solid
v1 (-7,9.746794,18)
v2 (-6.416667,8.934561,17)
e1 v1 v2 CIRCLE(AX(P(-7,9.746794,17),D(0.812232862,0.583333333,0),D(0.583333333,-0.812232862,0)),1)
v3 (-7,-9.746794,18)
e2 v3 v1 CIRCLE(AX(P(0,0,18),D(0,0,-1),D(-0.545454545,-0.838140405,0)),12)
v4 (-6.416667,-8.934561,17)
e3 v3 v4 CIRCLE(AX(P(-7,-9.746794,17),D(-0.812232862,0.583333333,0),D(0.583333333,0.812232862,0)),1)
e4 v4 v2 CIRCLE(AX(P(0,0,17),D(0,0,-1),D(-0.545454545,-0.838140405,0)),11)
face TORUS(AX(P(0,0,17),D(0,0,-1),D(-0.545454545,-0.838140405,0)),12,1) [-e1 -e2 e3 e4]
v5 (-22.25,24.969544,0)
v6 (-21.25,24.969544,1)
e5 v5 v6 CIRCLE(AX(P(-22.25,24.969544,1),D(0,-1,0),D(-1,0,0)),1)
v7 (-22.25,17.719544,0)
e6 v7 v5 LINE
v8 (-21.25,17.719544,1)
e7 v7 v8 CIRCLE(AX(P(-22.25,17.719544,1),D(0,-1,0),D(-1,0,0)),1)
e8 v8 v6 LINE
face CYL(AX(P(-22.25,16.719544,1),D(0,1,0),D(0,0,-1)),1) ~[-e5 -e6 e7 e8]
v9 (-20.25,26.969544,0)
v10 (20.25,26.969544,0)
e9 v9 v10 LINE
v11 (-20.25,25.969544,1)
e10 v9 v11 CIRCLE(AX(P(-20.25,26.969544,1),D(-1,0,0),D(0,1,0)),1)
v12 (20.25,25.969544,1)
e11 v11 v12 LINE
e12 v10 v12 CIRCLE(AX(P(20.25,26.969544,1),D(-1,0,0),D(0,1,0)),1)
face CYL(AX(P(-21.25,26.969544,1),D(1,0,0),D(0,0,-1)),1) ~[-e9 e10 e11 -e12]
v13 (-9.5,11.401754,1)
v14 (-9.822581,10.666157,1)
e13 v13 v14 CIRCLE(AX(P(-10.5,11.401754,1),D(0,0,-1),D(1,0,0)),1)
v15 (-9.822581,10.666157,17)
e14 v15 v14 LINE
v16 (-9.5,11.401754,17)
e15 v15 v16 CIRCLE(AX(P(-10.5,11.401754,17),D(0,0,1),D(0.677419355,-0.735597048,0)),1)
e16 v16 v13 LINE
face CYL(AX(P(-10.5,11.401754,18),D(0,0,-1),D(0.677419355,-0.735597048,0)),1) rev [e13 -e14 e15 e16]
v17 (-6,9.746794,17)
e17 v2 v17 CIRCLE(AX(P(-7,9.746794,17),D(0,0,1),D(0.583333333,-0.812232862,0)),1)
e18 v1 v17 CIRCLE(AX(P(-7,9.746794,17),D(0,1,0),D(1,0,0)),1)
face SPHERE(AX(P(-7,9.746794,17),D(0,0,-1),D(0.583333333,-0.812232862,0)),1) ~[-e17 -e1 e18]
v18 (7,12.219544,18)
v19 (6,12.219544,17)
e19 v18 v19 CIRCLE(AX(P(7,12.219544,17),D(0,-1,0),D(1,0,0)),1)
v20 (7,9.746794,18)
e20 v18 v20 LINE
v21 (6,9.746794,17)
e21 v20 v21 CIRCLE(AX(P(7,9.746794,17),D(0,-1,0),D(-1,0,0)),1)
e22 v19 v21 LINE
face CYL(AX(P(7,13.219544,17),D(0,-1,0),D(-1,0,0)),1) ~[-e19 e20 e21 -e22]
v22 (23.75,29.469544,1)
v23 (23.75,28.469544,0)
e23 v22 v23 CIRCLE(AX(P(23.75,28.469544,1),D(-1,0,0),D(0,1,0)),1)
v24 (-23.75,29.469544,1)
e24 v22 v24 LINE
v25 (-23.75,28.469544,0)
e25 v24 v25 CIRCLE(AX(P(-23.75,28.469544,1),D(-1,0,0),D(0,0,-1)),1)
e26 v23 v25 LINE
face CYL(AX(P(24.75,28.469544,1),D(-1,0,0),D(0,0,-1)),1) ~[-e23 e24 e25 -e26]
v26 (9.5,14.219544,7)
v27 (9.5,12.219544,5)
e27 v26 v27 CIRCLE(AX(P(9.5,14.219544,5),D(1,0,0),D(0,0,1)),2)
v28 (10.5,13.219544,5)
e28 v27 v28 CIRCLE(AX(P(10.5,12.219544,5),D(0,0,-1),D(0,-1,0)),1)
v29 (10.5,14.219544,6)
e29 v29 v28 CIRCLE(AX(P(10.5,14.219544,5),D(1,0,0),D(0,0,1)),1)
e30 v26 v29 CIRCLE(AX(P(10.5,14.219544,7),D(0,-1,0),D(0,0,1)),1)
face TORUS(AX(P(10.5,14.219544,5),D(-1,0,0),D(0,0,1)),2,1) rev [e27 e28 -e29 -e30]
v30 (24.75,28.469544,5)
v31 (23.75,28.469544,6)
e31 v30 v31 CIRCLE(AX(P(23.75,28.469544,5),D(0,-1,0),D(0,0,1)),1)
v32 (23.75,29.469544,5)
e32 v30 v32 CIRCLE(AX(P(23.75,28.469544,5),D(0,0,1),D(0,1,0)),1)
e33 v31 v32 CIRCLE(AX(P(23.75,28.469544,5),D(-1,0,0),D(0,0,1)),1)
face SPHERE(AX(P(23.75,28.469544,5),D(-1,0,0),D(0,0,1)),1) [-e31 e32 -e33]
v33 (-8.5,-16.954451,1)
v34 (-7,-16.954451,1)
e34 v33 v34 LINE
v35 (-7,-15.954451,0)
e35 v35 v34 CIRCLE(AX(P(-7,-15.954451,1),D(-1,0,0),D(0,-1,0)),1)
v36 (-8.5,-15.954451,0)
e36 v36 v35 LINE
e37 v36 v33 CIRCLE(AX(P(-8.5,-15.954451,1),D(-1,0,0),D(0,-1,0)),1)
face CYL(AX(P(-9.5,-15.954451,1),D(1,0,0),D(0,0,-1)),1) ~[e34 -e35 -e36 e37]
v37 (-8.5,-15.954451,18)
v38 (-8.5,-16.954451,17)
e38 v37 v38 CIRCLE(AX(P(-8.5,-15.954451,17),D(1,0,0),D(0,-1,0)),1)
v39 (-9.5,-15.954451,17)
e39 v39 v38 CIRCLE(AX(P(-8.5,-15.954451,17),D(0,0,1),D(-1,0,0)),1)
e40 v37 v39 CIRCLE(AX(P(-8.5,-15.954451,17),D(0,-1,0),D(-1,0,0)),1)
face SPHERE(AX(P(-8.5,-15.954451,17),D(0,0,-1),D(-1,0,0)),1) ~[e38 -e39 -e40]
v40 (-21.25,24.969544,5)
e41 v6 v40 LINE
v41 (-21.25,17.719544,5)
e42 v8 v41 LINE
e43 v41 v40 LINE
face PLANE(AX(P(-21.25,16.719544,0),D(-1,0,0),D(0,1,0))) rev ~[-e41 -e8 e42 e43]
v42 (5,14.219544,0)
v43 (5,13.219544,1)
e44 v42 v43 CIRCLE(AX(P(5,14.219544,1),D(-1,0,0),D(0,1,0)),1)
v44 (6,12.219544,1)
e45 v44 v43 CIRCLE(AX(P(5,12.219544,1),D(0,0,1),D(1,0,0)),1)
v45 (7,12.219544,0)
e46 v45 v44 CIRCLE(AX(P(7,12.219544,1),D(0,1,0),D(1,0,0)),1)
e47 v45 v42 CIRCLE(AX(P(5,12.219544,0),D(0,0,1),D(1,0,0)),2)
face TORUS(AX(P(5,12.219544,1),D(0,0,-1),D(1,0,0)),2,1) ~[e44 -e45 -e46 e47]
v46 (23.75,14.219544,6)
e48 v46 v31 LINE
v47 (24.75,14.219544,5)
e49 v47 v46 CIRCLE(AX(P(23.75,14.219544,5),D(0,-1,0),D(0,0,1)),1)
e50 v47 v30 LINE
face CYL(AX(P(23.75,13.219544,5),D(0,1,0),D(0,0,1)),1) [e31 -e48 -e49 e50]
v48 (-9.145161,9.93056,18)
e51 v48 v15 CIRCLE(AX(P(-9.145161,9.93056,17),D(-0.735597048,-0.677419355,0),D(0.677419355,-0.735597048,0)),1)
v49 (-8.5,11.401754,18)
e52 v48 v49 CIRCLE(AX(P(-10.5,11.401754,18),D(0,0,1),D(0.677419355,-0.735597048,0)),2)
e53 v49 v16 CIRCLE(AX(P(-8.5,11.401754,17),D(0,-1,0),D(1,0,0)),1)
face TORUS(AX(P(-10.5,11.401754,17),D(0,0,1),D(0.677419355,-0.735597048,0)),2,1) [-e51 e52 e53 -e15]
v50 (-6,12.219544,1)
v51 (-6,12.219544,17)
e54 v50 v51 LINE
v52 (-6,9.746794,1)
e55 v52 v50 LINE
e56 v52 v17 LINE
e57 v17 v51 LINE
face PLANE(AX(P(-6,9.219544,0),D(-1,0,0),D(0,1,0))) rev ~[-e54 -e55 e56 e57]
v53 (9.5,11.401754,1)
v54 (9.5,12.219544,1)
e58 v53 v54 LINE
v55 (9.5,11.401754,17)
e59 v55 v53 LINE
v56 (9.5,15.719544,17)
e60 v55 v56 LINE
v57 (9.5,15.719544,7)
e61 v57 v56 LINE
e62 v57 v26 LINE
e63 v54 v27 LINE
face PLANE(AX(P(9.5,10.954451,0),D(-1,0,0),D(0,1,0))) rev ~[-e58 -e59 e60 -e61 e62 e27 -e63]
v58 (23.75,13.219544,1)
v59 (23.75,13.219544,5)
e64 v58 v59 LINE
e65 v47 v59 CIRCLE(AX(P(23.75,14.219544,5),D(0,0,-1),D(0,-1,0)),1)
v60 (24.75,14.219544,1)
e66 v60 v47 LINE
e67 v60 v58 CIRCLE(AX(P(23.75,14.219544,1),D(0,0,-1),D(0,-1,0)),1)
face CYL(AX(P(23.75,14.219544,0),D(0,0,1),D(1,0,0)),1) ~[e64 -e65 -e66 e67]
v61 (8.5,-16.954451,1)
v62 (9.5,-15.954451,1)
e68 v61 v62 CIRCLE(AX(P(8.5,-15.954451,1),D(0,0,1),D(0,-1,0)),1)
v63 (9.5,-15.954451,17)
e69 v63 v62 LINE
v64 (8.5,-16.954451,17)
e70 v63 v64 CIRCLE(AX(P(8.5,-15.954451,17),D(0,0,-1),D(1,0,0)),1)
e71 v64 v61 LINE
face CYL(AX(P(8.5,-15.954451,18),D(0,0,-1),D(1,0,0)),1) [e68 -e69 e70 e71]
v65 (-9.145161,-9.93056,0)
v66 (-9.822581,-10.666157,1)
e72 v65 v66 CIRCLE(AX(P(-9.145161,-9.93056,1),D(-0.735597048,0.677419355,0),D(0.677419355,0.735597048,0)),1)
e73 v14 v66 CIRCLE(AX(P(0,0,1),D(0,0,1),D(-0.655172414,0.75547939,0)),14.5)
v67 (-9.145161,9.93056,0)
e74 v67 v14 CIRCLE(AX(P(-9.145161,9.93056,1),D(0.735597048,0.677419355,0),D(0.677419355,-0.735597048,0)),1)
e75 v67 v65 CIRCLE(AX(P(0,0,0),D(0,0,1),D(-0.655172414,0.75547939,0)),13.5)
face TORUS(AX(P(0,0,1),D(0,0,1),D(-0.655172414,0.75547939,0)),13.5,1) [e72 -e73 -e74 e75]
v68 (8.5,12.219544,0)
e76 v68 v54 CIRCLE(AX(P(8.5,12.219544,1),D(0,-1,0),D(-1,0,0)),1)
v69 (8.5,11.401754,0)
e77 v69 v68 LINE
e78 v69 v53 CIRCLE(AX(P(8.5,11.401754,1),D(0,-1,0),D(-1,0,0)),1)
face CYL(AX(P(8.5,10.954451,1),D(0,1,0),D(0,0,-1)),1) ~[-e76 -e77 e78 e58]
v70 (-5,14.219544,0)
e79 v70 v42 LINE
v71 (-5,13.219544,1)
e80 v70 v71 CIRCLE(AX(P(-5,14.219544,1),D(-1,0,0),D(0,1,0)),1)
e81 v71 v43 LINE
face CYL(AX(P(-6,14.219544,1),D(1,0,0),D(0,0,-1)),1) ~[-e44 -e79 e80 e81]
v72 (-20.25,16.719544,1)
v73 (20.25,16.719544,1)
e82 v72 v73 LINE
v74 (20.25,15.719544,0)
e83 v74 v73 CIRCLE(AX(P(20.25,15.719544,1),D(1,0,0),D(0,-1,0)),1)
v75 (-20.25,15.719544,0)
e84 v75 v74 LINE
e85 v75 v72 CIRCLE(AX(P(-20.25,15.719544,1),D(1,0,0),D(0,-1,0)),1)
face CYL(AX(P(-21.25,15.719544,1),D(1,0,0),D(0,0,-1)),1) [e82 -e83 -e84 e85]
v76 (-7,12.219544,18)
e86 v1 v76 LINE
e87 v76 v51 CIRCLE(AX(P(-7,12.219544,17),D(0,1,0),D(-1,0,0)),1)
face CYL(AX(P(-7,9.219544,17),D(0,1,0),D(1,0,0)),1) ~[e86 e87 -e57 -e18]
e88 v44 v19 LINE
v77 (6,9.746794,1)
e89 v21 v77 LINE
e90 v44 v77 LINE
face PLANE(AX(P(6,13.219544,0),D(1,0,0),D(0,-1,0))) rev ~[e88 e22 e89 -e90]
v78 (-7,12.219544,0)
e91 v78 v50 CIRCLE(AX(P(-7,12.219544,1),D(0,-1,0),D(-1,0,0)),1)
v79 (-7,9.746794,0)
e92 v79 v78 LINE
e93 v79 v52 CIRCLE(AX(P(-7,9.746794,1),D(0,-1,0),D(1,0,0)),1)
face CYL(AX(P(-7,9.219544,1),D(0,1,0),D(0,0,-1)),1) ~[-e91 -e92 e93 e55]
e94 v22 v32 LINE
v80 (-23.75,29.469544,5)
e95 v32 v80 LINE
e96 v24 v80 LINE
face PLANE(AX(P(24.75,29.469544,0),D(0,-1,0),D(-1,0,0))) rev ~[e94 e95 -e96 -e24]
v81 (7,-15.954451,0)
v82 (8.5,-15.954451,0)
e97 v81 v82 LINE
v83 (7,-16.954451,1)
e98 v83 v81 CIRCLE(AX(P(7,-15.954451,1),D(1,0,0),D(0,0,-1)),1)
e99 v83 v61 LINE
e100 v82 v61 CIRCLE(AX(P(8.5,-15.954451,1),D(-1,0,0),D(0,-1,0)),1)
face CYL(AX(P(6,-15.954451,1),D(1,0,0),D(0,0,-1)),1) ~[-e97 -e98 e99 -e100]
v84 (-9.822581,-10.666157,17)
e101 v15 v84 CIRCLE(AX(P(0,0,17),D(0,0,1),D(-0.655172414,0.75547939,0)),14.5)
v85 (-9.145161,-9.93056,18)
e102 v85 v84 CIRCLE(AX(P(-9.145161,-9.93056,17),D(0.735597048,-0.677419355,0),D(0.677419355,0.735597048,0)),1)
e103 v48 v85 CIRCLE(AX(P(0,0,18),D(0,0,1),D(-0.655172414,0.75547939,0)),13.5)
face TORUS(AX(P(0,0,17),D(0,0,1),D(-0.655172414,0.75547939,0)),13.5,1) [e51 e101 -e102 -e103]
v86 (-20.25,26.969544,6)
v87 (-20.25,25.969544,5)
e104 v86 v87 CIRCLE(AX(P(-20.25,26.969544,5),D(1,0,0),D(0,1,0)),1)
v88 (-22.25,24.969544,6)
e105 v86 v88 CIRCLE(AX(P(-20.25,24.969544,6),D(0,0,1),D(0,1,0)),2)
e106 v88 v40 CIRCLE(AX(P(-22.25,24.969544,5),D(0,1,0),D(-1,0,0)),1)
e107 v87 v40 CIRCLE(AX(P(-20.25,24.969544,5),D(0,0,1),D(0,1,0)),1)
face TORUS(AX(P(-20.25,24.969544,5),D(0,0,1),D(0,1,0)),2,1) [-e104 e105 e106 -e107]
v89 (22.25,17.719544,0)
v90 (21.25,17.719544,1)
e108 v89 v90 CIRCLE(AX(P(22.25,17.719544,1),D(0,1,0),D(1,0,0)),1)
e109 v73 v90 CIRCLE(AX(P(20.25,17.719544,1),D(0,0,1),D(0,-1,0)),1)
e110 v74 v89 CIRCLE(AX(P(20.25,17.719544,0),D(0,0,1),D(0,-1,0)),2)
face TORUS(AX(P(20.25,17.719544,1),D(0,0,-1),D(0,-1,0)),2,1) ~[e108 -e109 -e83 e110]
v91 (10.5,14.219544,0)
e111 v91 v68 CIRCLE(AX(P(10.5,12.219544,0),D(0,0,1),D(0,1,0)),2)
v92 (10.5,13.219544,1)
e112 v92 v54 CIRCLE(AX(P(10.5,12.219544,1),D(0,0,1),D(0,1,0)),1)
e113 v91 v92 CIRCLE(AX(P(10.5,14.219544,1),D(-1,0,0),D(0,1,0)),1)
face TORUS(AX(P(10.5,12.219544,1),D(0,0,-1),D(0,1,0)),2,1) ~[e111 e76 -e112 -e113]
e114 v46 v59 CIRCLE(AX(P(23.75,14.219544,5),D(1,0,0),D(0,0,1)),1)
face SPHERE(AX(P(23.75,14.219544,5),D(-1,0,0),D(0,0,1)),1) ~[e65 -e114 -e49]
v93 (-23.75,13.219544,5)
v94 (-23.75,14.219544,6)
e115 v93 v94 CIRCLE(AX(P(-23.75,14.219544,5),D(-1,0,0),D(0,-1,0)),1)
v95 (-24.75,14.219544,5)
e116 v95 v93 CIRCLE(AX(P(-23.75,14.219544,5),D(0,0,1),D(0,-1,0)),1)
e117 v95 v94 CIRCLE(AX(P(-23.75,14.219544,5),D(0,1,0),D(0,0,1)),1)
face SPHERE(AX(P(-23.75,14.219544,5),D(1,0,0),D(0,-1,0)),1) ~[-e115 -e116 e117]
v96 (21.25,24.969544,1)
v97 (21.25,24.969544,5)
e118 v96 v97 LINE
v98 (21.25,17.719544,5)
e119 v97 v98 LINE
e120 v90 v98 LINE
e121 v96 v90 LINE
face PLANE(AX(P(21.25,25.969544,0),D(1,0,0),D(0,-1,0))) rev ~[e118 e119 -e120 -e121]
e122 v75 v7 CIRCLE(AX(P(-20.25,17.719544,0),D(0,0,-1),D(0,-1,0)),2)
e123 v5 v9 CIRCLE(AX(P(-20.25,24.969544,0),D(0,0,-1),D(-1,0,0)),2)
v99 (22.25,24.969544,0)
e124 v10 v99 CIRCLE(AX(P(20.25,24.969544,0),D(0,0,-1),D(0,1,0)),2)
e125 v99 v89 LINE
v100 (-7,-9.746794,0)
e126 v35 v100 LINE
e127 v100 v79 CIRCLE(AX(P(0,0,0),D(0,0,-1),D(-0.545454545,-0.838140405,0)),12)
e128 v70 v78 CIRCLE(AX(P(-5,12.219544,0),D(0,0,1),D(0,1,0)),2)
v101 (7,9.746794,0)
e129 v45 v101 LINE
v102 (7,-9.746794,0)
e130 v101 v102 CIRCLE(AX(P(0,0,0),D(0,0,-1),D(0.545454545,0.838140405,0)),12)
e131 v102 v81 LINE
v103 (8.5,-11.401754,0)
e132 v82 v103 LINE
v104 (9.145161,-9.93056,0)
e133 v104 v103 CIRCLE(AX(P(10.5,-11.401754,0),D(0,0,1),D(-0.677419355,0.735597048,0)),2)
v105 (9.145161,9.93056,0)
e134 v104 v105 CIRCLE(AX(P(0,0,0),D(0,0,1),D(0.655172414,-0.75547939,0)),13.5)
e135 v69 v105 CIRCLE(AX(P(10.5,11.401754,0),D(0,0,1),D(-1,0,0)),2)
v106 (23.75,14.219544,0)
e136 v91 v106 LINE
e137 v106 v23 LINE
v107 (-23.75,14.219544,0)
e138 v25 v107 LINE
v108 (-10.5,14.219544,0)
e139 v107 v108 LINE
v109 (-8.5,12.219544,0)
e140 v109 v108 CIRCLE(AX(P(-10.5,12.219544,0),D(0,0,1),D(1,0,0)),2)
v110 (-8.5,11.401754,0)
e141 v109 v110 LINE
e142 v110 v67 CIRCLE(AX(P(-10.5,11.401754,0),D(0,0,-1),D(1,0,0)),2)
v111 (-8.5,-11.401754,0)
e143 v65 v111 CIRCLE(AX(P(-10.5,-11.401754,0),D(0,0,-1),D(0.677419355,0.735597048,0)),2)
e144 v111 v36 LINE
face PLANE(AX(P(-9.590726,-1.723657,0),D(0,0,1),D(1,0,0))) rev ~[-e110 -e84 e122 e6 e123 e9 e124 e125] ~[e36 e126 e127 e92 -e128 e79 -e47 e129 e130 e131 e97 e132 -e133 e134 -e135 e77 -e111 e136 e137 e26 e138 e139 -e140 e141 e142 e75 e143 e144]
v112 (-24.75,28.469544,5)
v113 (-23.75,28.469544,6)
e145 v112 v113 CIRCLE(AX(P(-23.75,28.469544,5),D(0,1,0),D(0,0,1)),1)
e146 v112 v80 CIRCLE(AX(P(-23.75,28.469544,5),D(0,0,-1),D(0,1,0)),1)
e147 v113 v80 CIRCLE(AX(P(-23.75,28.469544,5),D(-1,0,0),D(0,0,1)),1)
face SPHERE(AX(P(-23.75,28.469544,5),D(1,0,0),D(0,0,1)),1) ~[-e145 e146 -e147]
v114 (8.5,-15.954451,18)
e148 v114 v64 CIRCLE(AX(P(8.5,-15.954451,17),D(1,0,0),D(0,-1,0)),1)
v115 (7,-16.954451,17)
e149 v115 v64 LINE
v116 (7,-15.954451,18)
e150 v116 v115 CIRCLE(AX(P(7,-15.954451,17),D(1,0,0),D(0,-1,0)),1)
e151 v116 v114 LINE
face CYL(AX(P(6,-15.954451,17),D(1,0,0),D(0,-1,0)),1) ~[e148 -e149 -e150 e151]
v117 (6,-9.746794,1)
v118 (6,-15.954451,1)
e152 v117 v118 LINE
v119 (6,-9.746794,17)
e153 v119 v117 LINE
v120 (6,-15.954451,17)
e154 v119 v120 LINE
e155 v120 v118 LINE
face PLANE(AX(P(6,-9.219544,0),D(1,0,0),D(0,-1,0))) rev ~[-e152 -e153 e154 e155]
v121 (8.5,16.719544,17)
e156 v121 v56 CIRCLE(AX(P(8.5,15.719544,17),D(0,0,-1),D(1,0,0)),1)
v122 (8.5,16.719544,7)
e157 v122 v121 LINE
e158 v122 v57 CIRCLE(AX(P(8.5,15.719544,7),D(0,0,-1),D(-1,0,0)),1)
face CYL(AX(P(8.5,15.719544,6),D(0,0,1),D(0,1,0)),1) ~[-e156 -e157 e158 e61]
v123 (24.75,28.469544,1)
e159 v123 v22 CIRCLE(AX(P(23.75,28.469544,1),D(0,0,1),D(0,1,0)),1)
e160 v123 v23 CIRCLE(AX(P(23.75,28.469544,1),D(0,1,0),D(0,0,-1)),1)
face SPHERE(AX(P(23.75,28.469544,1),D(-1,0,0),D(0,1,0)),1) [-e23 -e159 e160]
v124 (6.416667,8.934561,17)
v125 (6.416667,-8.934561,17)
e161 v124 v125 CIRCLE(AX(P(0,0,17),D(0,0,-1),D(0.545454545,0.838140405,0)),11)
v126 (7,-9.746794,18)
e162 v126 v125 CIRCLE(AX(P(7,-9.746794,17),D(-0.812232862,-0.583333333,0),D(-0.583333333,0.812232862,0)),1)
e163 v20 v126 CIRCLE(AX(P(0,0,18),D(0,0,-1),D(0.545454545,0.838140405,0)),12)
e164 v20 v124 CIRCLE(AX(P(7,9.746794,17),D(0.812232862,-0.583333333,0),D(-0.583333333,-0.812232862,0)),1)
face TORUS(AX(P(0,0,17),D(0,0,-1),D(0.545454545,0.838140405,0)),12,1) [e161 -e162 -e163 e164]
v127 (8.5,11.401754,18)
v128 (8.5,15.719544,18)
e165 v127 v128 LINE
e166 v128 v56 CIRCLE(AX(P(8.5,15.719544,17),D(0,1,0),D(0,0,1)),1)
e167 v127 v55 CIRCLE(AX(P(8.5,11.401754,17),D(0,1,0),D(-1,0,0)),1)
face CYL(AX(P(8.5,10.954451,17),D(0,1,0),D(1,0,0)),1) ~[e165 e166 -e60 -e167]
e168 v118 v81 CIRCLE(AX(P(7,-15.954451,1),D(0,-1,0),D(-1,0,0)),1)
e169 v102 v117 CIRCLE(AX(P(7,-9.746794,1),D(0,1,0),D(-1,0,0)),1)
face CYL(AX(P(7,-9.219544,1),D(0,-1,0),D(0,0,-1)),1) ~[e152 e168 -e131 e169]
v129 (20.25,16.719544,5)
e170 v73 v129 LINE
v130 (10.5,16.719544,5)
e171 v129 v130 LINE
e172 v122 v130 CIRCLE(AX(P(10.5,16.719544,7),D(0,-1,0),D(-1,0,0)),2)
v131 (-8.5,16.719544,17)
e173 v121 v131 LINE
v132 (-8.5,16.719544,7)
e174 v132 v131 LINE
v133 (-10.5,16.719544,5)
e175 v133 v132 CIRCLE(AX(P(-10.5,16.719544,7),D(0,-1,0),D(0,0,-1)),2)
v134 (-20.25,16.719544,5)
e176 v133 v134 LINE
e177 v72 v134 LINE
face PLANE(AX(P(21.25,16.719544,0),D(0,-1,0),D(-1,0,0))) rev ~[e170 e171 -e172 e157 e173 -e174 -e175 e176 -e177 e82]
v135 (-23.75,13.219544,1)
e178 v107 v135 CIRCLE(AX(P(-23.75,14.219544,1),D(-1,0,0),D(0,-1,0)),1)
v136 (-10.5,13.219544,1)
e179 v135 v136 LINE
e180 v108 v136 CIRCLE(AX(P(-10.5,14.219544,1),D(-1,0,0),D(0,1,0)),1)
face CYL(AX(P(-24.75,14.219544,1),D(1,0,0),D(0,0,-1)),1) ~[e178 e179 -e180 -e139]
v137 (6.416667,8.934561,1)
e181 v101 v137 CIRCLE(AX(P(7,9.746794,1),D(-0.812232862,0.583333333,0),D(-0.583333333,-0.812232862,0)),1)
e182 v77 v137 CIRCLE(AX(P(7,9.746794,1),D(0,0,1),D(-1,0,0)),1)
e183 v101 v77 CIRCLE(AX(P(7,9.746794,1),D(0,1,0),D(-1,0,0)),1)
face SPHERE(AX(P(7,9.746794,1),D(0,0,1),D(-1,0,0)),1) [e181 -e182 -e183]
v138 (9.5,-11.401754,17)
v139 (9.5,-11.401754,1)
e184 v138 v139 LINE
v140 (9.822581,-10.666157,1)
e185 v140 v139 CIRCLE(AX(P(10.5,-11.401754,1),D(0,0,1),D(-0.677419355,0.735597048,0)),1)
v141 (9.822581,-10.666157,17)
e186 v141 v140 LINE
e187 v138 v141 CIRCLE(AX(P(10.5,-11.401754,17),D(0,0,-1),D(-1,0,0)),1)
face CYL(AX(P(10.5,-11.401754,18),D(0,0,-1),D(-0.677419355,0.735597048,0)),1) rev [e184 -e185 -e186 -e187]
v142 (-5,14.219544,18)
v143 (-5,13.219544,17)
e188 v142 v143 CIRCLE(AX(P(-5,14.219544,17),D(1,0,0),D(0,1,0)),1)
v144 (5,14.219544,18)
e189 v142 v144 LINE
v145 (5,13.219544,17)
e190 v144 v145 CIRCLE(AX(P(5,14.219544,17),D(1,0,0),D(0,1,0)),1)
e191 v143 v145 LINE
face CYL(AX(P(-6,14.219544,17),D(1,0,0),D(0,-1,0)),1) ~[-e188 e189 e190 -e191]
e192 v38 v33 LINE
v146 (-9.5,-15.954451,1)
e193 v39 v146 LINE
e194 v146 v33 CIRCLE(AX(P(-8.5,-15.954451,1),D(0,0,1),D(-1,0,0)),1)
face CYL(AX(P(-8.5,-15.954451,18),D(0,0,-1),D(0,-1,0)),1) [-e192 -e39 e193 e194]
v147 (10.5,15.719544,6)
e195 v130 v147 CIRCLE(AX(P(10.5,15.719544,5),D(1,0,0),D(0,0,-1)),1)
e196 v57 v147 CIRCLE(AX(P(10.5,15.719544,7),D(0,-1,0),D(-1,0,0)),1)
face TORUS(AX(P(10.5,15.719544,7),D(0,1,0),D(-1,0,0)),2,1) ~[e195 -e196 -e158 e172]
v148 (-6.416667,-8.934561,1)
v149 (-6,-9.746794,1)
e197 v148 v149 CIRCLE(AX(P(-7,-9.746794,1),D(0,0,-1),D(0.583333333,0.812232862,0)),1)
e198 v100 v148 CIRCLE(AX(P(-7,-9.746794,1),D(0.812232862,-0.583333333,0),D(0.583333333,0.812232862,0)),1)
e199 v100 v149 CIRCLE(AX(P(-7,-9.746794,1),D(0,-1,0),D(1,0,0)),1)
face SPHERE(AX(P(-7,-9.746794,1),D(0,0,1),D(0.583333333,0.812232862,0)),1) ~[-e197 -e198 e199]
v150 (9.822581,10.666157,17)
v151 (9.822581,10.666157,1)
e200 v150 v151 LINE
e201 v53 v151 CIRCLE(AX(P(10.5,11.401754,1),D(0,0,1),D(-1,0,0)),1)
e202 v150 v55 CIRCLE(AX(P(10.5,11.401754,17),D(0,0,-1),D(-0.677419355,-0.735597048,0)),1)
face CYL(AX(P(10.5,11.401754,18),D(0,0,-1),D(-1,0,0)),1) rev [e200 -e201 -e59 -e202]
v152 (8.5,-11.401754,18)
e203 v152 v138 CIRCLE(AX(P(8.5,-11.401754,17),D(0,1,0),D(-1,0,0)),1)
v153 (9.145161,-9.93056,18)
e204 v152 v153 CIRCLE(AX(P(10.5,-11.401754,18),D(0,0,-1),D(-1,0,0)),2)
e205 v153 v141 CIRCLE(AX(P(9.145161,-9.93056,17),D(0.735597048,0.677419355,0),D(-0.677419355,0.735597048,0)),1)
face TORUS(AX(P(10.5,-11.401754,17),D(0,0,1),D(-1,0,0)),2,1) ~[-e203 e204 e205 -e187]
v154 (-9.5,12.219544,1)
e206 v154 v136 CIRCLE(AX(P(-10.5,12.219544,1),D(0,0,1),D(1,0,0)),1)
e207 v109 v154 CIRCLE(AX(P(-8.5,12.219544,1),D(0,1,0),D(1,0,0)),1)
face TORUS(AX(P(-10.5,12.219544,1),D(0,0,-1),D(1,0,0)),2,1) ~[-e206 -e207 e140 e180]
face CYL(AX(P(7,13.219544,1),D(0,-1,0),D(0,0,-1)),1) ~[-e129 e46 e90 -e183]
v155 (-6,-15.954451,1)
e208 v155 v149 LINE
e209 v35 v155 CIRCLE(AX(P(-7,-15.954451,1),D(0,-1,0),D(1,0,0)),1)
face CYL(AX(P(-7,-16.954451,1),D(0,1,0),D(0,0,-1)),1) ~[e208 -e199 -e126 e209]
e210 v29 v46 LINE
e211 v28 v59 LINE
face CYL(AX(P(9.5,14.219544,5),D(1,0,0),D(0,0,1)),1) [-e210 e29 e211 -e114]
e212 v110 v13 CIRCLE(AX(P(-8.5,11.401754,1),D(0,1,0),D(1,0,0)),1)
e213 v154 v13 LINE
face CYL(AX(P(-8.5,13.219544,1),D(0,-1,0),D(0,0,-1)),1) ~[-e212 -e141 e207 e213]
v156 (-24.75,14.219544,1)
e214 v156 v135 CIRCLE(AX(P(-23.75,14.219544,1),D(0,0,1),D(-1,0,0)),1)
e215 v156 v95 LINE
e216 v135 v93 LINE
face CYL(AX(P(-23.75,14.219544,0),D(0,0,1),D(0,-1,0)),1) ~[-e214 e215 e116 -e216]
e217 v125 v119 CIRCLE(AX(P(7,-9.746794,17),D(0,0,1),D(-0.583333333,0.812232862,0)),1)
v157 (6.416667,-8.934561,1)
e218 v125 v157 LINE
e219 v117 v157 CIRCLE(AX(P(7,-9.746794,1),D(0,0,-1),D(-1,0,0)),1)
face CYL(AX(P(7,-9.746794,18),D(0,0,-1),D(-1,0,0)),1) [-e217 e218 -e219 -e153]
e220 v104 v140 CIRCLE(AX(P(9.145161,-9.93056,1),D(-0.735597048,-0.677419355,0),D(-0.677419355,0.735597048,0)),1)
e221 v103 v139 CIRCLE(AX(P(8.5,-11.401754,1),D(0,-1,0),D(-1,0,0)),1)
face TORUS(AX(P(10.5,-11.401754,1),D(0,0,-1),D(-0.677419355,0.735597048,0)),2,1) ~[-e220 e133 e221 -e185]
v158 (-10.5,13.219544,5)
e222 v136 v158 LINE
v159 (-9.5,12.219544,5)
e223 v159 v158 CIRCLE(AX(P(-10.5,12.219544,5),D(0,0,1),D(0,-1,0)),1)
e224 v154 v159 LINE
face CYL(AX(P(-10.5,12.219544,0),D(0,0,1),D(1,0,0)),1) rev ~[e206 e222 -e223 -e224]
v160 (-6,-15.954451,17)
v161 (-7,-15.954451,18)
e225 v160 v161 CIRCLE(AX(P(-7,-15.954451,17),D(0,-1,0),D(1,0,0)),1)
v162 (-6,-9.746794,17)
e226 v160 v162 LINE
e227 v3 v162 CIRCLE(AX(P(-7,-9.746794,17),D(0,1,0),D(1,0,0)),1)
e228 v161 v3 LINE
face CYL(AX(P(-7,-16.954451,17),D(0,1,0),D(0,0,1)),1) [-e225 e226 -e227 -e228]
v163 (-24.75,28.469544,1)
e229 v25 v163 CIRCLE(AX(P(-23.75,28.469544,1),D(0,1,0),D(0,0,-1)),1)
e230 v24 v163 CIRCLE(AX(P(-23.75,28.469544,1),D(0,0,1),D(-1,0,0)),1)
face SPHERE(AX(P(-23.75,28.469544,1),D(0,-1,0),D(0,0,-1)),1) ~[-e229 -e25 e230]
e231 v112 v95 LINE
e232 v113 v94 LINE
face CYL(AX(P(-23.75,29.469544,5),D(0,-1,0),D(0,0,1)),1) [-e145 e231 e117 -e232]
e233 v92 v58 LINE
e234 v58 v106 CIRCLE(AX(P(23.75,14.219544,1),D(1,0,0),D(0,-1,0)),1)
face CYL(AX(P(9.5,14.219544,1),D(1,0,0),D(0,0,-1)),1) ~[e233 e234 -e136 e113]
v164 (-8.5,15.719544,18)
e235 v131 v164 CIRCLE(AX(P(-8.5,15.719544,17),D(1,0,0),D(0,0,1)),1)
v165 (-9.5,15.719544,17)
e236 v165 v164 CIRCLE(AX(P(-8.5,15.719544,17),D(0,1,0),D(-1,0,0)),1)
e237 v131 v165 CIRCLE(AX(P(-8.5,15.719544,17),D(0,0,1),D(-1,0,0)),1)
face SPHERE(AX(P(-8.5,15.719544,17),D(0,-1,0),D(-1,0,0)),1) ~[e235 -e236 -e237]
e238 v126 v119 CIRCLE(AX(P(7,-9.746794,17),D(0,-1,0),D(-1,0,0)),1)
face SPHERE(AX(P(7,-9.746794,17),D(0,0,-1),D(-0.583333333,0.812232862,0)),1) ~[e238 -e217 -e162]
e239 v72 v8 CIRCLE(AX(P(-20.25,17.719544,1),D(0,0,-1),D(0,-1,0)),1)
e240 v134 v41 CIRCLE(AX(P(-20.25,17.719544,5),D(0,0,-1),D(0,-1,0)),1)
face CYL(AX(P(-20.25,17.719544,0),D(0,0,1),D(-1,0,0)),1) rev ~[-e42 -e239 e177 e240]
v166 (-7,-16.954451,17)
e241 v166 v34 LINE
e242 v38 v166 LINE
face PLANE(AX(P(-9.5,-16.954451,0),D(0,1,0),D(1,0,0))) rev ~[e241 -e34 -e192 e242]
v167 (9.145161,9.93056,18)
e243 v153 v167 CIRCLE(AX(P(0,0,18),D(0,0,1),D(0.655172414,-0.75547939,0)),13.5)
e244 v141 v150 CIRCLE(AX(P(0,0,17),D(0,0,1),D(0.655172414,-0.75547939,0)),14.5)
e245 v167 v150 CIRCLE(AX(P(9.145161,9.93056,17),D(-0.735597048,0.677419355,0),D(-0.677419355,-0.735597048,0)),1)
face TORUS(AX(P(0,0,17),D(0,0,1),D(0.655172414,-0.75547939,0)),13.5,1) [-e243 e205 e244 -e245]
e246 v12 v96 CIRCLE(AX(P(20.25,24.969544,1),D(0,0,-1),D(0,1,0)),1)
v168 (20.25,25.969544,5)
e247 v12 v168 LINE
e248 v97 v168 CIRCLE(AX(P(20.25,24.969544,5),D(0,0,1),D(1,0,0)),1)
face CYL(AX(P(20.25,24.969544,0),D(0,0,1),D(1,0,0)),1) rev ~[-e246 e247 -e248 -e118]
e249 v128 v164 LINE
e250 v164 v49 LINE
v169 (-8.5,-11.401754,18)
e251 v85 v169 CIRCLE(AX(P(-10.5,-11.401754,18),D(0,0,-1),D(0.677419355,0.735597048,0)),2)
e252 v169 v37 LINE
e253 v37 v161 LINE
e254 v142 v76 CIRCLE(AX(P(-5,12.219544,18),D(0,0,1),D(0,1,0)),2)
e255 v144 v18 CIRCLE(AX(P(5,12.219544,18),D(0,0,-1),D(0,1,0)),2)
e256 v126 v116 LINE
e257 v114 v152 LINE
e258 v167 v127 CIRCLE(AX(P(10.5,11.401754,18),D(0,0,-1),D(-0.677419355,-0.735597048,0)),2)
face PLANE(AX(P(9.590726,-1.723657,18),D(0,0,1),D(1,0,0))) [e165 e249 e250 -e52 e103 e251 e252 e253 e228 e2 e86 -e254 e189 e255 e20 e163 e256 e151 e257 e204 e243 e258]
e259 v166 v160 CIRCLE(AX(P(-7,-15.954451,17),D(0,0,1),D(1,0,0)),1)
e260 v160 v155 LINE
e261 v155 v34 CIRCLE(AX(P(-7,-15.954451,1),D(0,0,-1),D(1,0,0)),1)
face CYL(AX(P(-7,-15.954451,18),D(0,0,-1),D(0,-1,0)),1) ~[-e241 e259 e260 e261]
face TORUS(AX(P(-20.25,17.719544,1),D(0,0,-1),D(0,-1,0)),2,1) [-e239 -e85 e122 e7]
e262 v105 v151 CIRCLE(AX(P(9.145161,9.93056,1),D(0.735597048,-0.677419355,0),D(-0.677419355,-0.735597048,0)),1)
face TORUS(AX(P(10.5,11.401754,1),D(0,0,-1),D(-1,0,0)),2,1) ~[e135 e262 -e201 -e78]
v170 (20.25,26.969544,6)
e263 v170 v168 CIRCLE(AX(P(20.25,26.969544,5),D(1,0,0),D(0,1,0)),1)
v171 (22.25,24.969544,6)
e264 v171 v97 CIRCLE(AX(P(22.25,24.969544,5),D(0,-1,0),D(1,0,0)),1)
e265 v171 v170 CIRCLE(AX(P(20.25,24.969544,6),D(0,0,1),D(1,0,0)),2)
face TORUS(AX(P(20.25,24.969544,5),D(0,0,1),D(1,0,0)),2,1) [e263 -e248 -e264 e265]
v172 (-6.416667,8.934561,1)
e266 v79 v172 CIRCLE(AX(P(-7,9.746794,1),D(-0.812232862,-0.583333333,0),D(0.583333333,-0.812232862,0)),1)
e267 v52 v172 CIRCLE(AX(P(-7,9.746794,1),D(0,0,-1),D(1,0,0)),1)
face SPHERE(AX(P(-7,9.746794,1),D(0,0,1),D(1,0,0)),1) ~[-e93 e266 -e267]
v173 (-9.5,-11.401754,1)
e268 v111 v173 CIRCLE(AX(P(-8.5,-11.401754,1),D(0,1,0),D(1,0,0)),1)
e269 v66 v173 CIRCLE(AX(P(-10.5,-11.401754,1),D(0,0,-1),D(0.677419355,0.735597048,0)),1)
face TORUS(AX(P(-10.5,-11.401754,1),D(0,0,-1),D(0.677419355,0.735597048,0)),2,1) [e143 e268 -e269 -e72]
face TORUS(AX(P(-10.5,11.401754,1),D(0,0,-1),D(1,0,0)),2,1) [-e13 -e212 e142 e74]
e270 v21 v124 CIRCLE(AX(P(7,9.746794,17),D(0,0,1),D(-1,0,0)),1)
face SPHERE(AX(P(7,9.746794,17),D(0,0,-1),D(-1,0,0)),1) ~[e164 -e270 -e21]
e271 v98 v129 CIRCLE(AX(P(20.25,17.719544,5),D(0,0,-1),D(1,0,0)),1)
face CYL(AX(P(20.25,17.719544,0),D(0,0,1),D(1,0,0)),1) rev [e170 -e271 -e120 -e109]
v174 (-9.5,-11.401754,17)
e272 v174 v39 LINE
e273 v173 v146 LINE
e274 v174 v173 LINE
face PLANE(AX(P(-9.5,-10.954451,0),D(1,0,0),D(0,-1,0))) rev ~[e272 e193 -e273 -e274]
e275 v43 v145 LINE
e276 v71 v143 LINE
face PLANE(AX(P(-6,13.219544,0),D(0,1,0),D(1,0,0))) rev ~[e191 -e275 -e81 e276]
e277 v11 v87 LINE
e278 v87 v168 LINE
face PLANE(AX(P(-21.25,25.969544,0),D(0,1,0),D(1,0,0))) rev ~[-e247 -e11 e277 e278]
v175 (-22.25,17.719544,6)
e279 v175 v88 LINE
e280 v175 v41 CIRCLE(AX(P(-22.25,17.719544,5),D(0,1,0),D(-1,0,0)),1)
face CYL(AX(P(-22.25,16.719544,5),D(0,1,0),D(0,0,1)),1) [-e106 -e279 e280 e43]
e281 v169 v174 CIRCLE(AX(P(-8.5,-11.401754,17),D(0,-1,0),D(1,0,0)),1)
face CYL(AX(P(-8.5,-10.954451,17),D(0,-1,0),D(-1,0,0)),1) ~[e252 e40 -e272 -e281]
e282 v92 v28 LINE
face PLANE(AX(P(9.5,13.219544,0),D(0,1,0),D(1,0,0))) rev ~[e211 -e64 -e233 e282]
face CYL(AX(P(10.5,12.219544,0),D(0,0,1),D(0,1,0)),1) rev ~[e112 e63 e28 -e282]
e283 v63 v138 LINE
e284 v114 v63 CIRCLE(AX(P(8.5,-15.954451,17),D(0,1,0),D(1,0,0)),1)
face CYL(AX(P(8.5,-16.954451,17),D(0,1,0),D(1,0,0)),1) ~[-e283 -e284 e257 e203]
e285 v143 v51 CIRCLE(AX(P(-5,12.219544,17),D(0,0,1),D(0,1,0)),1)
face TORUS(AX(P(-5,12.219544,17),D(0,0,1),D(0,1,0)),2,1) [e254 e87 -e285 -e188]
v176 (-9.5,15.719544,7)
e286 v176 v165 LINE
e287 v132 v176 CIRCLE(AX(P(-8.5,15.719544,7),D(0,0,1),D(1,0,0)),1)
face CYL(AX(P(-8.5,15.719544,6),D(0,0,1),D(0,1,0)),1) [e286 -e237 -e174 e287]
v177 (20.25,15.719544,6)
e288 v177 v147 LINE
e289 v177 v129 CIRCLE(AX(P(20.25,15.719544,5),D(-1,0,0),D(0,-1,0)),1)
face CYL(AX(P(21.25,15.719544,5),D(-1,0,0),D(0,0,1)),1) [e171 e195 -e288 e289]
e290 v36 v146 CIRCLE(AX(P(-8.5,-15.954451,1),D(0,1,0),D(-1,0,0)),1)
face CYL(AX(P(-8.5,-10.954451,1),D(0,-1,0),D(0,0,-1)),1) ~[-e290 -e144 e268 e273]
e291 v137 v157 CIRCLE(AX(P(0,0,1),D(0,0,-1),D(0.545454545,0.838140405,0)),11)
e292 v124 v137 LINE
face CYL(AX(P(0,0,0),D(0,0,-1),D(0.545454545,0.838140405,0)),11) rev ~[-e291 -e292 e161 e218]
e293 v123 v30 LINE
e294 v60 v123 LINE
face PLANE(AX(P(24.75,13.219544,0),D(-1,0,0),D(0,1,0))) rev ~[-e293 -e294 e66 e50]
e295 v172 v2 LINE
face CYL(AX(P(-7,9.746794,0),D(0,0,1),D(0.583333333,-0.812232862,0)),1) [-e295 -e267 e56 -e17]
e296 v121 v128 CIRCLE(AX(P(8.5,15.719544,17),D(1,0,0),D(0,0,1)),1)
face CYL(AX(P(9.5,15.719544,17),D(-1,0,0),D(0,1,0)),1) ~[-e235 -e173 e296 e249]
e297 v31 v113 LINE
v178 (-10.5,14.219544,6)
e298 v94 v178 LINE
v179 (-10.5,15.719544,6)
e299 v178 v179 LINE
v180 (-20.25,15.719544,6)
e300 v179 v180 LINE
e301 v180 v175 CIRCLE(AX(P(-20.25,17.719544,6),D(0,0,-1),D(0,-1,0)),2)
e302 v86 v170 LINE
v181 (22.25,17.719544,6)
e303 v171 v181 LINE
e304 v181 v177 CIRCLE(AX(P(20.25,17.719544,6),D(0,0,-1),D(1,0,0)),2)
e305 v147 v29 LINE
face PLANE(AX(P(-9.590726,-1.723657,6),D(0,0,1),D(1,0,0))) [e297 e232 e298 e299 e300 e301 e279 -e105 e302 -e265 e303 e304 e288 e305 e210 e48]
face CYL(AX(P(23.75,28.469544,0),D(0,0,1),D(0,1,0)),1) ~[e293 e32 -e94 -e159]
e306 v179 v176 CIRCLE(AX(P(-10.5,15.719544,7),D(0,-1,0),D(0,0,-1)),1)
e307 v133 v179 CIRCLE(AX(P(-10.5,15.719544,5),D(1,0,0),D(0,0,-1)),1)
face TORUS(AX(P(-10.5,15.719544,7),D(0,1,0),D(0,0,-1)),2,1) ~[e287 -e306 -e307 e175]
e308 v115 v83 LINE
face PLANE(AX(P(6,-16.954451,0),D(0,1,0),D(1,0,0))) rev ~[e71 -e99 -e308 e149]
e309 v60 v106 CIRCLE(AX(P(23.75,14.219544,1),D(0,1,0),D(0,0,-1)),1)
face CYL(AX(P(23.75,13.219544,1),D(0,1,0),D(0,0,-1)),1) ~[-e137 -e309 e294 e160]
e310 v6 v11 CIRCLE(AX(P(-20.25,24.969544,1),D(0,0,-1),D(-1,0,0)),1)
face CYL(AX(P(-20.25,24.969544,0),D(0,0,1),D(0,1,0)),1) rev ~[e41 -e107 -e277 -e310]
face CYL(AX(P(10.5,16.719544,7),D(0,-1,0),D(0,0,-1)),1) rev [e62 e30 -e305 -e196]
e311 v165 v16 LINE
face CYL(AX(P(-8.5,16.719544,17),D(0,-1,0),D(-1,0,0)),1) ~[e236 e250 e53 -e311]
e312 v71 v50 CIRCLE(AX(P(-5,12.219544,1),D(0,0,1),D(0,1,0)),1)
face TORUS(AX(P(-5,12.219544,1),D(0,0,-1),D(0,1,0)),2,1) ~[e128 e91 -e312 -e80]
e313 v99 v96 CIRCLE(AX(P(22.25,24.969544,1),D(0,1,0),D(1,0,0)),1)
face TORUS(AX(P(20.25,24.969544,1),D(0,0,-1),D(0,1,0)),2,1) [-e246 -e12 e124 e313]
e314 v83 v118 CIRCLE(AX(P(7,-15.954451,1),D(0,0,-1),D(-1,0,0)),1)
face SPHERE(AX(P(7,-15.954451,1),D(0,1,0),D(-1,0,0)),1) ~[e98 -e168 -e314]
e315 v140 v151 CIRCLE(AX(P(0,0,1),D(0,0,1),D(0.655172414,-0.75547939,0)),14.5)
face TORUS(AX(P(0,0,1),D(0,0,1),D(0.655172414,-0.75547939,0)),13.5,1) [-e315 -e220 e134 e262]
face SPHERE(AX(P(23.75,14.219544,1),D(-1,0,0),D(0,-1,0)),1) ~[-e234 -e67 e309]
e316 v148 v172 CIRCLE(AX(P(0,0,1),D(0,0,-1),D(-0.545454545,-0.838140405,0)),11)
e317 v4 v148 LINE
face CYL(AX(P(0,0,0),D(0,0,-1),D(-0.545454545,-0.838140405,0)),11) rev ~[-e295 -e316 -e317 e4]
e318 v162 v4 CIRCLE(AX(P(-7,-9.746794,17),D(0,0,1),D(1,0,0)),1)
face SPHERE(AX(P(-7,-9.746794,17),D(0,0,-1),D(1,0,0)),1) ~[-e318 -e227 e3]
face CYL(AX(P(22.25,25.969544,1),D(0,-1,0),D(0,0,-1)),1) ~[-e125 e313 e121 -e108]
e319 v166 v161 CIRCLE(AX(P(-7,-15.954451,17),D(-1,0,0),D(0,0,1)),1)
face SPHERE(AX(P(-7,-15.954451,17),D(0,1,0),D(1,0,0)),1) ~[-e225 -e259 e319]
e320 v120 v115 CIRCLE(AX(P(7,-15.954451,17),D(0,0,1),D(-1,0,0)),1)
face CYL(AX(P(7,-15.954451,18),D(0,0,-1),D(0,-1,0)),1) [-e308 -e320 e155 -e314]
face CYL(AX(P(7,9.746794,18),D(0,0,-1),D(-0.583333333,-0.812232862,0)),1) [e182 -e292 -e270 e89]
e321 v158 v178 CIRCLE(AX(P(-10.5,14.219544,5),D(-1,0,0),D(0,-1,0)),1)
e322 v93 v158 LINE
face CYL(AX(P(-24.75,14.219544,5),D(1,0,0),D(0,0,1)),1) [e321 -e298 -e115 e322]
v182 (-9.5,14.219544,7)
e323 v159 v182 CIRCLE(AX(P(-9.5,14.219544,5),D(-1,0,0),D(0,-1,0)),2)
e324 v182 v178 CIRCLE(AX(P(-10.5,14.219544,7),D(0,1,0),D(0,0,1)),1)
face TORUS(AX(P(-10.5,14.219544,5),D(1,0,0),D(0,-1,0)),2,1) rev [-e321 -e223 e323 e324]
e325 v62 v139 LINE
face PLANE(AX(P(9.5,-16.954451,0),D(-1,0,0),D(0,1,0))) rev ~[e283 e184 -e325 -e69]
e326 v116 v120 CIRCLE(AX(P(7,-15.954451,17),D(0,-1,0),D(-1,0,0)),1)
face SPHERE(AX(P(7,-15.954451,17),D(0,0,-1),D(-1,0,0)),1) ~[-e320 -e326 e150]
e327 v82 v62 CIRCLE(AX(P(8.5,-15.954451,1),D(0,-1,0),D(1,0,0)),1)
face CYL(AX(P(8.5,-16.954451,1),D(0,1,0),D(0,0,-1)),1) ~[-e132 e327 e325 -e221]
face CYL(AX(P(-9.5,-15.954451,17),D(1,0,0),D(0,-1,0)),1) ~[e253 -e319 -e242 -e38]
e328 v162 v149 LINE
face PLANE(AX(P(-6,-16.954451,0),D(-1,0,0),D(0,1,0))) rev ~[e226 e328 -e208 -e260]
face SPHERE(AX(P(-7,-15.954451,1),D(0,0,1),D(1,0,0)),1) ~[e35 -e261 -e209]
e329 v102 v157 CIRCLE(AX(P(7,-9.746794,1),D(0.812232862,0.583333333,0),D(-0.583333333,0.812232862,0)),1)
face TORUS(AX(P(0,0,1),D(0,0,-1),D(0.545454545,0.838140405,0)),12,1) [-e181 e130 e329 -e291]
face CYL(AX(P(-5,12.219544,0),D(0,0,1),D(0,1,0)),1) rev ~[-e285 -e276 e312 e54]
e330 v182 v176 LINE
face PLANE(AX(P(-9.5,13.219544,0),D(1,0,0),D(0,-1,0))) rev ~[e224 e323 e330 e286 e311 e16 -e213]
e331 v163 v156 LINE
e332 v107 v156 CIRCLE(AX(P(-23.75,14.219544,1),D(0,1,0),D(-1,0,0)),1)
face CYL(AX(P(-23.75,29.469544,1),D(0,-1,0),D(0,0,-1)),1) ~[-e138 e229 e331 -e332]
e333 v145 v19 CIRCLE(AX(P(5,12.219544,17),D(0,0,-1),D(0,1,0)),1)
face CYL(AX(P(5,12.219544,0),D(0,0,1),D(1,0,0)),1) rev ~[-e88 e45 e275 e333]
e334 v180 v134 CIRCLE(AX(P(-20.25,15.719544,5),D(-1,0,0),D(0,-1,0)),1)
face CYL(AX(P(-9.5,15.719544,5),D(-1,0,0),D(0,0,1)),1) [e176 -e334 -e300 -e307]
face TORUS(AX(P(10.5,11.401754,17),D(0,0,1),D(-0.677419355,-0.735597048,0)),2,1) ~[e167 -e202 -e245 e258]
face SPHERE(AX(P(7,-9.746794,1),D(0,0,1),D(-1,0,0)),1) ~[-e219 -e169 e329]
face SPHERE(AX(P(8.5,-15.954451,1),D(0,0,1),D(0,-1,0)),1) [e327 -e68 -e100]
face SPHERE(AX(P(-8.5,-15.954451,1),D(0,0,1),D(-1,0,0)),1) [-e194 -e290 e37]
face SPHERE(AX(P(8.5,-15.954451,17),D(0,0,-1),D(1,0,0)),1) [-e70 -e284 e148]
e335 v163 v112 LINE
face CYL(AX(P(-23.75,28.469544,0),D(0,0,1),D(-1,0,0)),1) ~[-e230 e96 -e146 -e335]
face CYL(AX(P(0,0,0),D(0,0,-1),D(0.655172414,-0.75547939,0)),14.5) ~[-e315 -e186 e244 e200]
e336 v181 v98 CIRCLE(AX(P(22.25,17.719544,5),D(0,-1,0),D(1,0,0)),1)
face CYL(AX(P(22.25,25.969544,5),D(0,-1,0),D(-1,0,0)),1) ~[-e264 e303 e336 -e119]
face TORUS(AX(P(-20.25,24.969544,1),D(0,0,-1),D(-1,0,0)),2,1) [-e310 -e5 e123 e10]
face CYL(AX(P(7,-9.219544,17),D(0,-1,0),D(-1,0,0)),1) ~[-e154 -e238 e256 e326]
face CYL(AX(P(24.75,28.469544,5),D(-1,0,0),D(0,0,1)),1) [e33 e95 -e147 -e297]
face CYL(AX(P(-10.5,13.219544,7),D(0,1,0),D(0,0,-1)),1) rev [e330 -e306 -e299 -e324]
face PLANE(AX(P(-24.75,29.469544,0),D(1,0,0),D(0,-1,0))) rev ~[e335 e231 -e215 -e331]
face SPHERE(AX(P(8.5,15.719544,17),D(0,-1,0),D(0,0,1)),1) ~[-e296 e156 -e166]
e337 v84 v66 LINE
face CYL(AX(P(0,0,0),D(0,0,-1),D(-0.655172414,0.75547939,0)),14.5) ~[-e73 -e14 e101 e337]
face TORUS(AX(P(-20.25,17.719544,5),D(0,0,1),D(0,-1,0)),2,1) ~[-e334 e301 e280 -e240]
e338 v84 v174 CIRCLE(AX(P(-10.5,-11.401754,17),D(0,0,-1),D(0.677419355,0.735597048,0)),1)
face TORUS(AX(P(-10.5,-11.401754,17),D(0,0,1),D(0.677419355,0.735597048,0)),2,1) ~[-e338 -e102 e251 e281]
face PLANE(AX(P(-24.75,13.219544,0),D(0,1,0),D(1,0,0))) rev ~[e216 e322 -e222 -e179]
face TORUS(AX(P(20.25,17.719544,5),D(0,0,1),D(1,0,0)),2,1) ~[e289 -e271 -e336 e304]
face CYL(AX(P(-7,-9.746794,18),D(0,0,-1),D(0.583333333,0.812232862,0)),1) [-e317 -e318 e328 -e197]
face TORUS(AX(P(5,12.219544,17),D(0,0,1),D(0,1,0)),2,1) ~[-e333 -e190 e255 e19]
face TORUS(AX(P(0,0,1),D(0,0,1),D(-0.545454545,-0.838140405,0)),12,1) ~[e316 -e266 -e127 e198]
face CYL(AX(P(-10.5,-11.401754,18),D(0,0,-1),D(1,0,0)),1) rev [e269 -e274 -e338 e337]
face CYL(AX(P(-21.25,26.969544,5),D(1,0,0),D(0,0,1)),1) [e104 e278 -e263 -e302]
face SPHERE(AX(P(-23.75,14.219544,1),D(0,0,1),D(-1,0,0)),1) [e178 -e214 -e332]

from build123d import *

# Parameters (mm, degrees)
F1_DEPTH = 6
F2_DEPTH = 18
F3_R     = 1


with BuildPart() as f1:
    # F0 (on Top) → F1 (new body)
    with BuildSketch(Plane.XY):
        with BuildLine():
            ThreePointArc((-6, -9.2195444573), (-11, 0), (-6, 9.2195444573))
            Line((-6, 9.2195444573), (-6, 13.2195444573))
            Line((-6, 13.2195444573), (-9.5, 13.2195444573))
            Line((-9.5, 13.2195444573), (-9.5, 10.9544511501))
            ThreePointArc((-9.5, 10.9544511501), (-14.5, 0), (-9.5, -10.9544511501))
            Line((-9.5, -10.9544511501), (-9.5, -16.9544511501))
            Line((-9.5, -16.9544511501), (-6, -16.9544511501))
            Line((-6, -16.9544511501), (-6, -9.2195444573))
        make_face()
        with BuildLine():
            Line((9.5, 13.2195444573), (6, 13.2195444573))
            Line((6, 13.2195444573), (6, 9.2195444573))
            ThreePointArc((6, 9.2195444573), (11, 0), (6, -9.2195444573))
            Line((6, -9.2195444573), (6, -16.9544511501))
            Line((6, -16.9544511501), (9.5, -16.9544511501))
            Line((9.5, -16.9544511501), (9.5, -10.9544511501))
            ThreePointArc((9.5, -10.9544511501), (14.5, 0), (9.5, 10.9544511501))
            Line((9.5, 10.9544511501), (9.5, 13.2195444573))
        make_face()
        Polygon((-24.75, 13.2195444573), (-9.5, 13.2195444573), (-9.5, 16.7195444573), (-21.25, 16.7195444573), (-21.25, 25.9695444573), (21.25, 25.9695444573), (21.25, 16.7195444573), (9.5, 16.7195444573), (9.5, 13.2195444573), (24.75, 13.2195444573), (24.75, 29.4695444573), (-24.75, 29.4695444573), align=None)
        Polygon((-9.5, 13.2195444573), (-6, 13.2195444573), (6, 13.2195444573), (9.5, 13.2195444573), (9.5, 16.7195444573), (-9.5, 16.7195444573), align=None)
    extrude(amount=F1_DEPTH)

    # F0 (on Top) → F2 (join)
    with BuildSketch(Plane.XY):
        with BuildLine():
            Line((9.5, 13.2195444573), (6, 13.2195444573))
            Line((6, 13.2195444573), (6, 9.2195444573))
            ThreePointArc((6, 9.2195444573), (11, 0), (6, -9.2195444573))
            Line((6, -9.2195444573), (6, -16.9544511501))
            Line((6, -16.9544511501), (9.5, -16.9544511501))
            Line((9.5, -16.9544511501), (9.5, -10.9544511501))
            ThreePointArc((9.5, -10.9544511501), (14.5, 0), (9.5, 10.9544511501))
            Line((9.5, 10.9544511501), (9.5, 13.2195444573))
        make_face()
        with BuildLine():
            ThreePointArc((-6, -9.2195444573), (-11, 0), (-6, 9.2195444573))
            Line((-6, 9.2195444573), (-6, 13.2195444573))
            Line((-6, 13.2195444573), (-9.5, 13.2195444573))
            Line((-9.5, 13.2195444573), (-9.5, 10.9544511501))
            ThreePointArc((-9.5, 10.9544511501), (-14.5, 0), (-9.5, -10.9544511501))
            Line((-9.5, -10.9544511501), (-9.5, -16.9544511501))
            Line((-9.5, -16.9544511501), (-6, -16.9544511501))
            Line((-6, -16.9544511501), (-6, -9.2195444573))
        make_face()
        Polygon((-9.5, 13.2195444573), (-6, 13.2195444573), (6, 13.2195444573), (9.5, 13.2195444573), (9.5, 16.7195444573), (-9.5, 16.7195444573), align=None)
    extrude(amount=F2_DEPTH)

    # F3
    f3_edges = [f1.edges().sort_by_distance(p)[0] for p in [
        (6, 11.219544, 18),
        (-17.125, 13.219544, 6),
        (9.5, -16.954451, 9),
        (-14.5, 0, 18),
        (6, 13.219544, 9),
        (-6, -13.086998, 18),
        (17.125, 13.219544, 6),
        (-11, 0, 18),
        (6, -13.086998, 0),
        (-9.5, 13.836998, 18),
        (-6, -16.954451, 9),
        (-9.5, -16.954451, 9),
        (-24.75, 13.219544, 3),
        (0, 29.469544, 6),
        (-6, 11.219544, 18),
        (24.75, 21.344544, 6),
        (6, -16.954451, 9),
        (0, 25.969544, 0),
        (-24.75, 21.344544, 0),
        (-9.5, -13.954451, 18),
        (0, 25.969544, 6),
        (-24.75, 21.344544, 6),
        (-11, 0, 0),
        (9.5, -13.954451, 18),
        (11, 0, 18),
        (-21.25, 21.344544, 6),
        (-14.5, 0, 0),
        (6, 11.219544, 0),
        (21.25, 21.344544, 0),
        (14.5, 0, 18),
        (-7.75, -16.954451, 18),
        (-9.5, -13.954451, 0),
        (11, 0, 0),
        (17.125, 13.219544, 0),
        (6, -13.086998, 18),
        (9.5, 13.836998, 18),
        (15.375, 16.719544, 6),
        (-6, 13.219544, 9),
        (9.5, -10.954451, 9),
        (21.25, 25.969544, 3),
        (21.25, 16.719544, 3),
        (-21.25, 16.719544, 3),
        (0, 29.469544, 0),
        (-17.125, 13.219544, 0),
        (-6, -13.086998, 0),
        (-21.25, 25.969544, 3),
        (14.5, 0, 0),
        (-7.75, -16.954451, 0),
        (0, 13.219544, 0),
        (24.75, 13.219544, 3),
        (-6, -9.219544, 9),
        (6, -9.219544, 9),
        (7.75, -16.954451, 18),
        (-9.5, -10.954451, 9),
        (0, 16.719544, 0),
        (-9.5, 10.954451, 9),
        (9.5, 10.954451, 9),
        (-9.5, 16.719544, 12),
        (6, 9.219544, 9),
        (24.75, 29.469544, 3),
        (7.75, -16.954451, 0),
        (24.75, 21.344544, 0),
        (0, 16.719544, 18),
        (-24.75, 29.469544, 3),
        (-6, 9.219544, 9),
        (-9.5, 13.219544, 3),
        (9.5, -13.954451, 0),
        (-6, 11.219544, 0),
        (-21.25, 21.344544, 0),
        (0, 13.219544, 18),
        (21.25, 21.344544, 6),
        (-9.5, 14.969544, 6),
        (9.5, 14.969544, 6),
        (-15.375, 16.719544, 6),
        (9.5, 12.086998, 0),
        (-9.5, 12.086998, 0),
        (9.5, 13.219544, 3),
        (9.5, 16.719544, 12),
    ]]
    fillet(f3_edges, radius=F3_R)


solid = f1.part
